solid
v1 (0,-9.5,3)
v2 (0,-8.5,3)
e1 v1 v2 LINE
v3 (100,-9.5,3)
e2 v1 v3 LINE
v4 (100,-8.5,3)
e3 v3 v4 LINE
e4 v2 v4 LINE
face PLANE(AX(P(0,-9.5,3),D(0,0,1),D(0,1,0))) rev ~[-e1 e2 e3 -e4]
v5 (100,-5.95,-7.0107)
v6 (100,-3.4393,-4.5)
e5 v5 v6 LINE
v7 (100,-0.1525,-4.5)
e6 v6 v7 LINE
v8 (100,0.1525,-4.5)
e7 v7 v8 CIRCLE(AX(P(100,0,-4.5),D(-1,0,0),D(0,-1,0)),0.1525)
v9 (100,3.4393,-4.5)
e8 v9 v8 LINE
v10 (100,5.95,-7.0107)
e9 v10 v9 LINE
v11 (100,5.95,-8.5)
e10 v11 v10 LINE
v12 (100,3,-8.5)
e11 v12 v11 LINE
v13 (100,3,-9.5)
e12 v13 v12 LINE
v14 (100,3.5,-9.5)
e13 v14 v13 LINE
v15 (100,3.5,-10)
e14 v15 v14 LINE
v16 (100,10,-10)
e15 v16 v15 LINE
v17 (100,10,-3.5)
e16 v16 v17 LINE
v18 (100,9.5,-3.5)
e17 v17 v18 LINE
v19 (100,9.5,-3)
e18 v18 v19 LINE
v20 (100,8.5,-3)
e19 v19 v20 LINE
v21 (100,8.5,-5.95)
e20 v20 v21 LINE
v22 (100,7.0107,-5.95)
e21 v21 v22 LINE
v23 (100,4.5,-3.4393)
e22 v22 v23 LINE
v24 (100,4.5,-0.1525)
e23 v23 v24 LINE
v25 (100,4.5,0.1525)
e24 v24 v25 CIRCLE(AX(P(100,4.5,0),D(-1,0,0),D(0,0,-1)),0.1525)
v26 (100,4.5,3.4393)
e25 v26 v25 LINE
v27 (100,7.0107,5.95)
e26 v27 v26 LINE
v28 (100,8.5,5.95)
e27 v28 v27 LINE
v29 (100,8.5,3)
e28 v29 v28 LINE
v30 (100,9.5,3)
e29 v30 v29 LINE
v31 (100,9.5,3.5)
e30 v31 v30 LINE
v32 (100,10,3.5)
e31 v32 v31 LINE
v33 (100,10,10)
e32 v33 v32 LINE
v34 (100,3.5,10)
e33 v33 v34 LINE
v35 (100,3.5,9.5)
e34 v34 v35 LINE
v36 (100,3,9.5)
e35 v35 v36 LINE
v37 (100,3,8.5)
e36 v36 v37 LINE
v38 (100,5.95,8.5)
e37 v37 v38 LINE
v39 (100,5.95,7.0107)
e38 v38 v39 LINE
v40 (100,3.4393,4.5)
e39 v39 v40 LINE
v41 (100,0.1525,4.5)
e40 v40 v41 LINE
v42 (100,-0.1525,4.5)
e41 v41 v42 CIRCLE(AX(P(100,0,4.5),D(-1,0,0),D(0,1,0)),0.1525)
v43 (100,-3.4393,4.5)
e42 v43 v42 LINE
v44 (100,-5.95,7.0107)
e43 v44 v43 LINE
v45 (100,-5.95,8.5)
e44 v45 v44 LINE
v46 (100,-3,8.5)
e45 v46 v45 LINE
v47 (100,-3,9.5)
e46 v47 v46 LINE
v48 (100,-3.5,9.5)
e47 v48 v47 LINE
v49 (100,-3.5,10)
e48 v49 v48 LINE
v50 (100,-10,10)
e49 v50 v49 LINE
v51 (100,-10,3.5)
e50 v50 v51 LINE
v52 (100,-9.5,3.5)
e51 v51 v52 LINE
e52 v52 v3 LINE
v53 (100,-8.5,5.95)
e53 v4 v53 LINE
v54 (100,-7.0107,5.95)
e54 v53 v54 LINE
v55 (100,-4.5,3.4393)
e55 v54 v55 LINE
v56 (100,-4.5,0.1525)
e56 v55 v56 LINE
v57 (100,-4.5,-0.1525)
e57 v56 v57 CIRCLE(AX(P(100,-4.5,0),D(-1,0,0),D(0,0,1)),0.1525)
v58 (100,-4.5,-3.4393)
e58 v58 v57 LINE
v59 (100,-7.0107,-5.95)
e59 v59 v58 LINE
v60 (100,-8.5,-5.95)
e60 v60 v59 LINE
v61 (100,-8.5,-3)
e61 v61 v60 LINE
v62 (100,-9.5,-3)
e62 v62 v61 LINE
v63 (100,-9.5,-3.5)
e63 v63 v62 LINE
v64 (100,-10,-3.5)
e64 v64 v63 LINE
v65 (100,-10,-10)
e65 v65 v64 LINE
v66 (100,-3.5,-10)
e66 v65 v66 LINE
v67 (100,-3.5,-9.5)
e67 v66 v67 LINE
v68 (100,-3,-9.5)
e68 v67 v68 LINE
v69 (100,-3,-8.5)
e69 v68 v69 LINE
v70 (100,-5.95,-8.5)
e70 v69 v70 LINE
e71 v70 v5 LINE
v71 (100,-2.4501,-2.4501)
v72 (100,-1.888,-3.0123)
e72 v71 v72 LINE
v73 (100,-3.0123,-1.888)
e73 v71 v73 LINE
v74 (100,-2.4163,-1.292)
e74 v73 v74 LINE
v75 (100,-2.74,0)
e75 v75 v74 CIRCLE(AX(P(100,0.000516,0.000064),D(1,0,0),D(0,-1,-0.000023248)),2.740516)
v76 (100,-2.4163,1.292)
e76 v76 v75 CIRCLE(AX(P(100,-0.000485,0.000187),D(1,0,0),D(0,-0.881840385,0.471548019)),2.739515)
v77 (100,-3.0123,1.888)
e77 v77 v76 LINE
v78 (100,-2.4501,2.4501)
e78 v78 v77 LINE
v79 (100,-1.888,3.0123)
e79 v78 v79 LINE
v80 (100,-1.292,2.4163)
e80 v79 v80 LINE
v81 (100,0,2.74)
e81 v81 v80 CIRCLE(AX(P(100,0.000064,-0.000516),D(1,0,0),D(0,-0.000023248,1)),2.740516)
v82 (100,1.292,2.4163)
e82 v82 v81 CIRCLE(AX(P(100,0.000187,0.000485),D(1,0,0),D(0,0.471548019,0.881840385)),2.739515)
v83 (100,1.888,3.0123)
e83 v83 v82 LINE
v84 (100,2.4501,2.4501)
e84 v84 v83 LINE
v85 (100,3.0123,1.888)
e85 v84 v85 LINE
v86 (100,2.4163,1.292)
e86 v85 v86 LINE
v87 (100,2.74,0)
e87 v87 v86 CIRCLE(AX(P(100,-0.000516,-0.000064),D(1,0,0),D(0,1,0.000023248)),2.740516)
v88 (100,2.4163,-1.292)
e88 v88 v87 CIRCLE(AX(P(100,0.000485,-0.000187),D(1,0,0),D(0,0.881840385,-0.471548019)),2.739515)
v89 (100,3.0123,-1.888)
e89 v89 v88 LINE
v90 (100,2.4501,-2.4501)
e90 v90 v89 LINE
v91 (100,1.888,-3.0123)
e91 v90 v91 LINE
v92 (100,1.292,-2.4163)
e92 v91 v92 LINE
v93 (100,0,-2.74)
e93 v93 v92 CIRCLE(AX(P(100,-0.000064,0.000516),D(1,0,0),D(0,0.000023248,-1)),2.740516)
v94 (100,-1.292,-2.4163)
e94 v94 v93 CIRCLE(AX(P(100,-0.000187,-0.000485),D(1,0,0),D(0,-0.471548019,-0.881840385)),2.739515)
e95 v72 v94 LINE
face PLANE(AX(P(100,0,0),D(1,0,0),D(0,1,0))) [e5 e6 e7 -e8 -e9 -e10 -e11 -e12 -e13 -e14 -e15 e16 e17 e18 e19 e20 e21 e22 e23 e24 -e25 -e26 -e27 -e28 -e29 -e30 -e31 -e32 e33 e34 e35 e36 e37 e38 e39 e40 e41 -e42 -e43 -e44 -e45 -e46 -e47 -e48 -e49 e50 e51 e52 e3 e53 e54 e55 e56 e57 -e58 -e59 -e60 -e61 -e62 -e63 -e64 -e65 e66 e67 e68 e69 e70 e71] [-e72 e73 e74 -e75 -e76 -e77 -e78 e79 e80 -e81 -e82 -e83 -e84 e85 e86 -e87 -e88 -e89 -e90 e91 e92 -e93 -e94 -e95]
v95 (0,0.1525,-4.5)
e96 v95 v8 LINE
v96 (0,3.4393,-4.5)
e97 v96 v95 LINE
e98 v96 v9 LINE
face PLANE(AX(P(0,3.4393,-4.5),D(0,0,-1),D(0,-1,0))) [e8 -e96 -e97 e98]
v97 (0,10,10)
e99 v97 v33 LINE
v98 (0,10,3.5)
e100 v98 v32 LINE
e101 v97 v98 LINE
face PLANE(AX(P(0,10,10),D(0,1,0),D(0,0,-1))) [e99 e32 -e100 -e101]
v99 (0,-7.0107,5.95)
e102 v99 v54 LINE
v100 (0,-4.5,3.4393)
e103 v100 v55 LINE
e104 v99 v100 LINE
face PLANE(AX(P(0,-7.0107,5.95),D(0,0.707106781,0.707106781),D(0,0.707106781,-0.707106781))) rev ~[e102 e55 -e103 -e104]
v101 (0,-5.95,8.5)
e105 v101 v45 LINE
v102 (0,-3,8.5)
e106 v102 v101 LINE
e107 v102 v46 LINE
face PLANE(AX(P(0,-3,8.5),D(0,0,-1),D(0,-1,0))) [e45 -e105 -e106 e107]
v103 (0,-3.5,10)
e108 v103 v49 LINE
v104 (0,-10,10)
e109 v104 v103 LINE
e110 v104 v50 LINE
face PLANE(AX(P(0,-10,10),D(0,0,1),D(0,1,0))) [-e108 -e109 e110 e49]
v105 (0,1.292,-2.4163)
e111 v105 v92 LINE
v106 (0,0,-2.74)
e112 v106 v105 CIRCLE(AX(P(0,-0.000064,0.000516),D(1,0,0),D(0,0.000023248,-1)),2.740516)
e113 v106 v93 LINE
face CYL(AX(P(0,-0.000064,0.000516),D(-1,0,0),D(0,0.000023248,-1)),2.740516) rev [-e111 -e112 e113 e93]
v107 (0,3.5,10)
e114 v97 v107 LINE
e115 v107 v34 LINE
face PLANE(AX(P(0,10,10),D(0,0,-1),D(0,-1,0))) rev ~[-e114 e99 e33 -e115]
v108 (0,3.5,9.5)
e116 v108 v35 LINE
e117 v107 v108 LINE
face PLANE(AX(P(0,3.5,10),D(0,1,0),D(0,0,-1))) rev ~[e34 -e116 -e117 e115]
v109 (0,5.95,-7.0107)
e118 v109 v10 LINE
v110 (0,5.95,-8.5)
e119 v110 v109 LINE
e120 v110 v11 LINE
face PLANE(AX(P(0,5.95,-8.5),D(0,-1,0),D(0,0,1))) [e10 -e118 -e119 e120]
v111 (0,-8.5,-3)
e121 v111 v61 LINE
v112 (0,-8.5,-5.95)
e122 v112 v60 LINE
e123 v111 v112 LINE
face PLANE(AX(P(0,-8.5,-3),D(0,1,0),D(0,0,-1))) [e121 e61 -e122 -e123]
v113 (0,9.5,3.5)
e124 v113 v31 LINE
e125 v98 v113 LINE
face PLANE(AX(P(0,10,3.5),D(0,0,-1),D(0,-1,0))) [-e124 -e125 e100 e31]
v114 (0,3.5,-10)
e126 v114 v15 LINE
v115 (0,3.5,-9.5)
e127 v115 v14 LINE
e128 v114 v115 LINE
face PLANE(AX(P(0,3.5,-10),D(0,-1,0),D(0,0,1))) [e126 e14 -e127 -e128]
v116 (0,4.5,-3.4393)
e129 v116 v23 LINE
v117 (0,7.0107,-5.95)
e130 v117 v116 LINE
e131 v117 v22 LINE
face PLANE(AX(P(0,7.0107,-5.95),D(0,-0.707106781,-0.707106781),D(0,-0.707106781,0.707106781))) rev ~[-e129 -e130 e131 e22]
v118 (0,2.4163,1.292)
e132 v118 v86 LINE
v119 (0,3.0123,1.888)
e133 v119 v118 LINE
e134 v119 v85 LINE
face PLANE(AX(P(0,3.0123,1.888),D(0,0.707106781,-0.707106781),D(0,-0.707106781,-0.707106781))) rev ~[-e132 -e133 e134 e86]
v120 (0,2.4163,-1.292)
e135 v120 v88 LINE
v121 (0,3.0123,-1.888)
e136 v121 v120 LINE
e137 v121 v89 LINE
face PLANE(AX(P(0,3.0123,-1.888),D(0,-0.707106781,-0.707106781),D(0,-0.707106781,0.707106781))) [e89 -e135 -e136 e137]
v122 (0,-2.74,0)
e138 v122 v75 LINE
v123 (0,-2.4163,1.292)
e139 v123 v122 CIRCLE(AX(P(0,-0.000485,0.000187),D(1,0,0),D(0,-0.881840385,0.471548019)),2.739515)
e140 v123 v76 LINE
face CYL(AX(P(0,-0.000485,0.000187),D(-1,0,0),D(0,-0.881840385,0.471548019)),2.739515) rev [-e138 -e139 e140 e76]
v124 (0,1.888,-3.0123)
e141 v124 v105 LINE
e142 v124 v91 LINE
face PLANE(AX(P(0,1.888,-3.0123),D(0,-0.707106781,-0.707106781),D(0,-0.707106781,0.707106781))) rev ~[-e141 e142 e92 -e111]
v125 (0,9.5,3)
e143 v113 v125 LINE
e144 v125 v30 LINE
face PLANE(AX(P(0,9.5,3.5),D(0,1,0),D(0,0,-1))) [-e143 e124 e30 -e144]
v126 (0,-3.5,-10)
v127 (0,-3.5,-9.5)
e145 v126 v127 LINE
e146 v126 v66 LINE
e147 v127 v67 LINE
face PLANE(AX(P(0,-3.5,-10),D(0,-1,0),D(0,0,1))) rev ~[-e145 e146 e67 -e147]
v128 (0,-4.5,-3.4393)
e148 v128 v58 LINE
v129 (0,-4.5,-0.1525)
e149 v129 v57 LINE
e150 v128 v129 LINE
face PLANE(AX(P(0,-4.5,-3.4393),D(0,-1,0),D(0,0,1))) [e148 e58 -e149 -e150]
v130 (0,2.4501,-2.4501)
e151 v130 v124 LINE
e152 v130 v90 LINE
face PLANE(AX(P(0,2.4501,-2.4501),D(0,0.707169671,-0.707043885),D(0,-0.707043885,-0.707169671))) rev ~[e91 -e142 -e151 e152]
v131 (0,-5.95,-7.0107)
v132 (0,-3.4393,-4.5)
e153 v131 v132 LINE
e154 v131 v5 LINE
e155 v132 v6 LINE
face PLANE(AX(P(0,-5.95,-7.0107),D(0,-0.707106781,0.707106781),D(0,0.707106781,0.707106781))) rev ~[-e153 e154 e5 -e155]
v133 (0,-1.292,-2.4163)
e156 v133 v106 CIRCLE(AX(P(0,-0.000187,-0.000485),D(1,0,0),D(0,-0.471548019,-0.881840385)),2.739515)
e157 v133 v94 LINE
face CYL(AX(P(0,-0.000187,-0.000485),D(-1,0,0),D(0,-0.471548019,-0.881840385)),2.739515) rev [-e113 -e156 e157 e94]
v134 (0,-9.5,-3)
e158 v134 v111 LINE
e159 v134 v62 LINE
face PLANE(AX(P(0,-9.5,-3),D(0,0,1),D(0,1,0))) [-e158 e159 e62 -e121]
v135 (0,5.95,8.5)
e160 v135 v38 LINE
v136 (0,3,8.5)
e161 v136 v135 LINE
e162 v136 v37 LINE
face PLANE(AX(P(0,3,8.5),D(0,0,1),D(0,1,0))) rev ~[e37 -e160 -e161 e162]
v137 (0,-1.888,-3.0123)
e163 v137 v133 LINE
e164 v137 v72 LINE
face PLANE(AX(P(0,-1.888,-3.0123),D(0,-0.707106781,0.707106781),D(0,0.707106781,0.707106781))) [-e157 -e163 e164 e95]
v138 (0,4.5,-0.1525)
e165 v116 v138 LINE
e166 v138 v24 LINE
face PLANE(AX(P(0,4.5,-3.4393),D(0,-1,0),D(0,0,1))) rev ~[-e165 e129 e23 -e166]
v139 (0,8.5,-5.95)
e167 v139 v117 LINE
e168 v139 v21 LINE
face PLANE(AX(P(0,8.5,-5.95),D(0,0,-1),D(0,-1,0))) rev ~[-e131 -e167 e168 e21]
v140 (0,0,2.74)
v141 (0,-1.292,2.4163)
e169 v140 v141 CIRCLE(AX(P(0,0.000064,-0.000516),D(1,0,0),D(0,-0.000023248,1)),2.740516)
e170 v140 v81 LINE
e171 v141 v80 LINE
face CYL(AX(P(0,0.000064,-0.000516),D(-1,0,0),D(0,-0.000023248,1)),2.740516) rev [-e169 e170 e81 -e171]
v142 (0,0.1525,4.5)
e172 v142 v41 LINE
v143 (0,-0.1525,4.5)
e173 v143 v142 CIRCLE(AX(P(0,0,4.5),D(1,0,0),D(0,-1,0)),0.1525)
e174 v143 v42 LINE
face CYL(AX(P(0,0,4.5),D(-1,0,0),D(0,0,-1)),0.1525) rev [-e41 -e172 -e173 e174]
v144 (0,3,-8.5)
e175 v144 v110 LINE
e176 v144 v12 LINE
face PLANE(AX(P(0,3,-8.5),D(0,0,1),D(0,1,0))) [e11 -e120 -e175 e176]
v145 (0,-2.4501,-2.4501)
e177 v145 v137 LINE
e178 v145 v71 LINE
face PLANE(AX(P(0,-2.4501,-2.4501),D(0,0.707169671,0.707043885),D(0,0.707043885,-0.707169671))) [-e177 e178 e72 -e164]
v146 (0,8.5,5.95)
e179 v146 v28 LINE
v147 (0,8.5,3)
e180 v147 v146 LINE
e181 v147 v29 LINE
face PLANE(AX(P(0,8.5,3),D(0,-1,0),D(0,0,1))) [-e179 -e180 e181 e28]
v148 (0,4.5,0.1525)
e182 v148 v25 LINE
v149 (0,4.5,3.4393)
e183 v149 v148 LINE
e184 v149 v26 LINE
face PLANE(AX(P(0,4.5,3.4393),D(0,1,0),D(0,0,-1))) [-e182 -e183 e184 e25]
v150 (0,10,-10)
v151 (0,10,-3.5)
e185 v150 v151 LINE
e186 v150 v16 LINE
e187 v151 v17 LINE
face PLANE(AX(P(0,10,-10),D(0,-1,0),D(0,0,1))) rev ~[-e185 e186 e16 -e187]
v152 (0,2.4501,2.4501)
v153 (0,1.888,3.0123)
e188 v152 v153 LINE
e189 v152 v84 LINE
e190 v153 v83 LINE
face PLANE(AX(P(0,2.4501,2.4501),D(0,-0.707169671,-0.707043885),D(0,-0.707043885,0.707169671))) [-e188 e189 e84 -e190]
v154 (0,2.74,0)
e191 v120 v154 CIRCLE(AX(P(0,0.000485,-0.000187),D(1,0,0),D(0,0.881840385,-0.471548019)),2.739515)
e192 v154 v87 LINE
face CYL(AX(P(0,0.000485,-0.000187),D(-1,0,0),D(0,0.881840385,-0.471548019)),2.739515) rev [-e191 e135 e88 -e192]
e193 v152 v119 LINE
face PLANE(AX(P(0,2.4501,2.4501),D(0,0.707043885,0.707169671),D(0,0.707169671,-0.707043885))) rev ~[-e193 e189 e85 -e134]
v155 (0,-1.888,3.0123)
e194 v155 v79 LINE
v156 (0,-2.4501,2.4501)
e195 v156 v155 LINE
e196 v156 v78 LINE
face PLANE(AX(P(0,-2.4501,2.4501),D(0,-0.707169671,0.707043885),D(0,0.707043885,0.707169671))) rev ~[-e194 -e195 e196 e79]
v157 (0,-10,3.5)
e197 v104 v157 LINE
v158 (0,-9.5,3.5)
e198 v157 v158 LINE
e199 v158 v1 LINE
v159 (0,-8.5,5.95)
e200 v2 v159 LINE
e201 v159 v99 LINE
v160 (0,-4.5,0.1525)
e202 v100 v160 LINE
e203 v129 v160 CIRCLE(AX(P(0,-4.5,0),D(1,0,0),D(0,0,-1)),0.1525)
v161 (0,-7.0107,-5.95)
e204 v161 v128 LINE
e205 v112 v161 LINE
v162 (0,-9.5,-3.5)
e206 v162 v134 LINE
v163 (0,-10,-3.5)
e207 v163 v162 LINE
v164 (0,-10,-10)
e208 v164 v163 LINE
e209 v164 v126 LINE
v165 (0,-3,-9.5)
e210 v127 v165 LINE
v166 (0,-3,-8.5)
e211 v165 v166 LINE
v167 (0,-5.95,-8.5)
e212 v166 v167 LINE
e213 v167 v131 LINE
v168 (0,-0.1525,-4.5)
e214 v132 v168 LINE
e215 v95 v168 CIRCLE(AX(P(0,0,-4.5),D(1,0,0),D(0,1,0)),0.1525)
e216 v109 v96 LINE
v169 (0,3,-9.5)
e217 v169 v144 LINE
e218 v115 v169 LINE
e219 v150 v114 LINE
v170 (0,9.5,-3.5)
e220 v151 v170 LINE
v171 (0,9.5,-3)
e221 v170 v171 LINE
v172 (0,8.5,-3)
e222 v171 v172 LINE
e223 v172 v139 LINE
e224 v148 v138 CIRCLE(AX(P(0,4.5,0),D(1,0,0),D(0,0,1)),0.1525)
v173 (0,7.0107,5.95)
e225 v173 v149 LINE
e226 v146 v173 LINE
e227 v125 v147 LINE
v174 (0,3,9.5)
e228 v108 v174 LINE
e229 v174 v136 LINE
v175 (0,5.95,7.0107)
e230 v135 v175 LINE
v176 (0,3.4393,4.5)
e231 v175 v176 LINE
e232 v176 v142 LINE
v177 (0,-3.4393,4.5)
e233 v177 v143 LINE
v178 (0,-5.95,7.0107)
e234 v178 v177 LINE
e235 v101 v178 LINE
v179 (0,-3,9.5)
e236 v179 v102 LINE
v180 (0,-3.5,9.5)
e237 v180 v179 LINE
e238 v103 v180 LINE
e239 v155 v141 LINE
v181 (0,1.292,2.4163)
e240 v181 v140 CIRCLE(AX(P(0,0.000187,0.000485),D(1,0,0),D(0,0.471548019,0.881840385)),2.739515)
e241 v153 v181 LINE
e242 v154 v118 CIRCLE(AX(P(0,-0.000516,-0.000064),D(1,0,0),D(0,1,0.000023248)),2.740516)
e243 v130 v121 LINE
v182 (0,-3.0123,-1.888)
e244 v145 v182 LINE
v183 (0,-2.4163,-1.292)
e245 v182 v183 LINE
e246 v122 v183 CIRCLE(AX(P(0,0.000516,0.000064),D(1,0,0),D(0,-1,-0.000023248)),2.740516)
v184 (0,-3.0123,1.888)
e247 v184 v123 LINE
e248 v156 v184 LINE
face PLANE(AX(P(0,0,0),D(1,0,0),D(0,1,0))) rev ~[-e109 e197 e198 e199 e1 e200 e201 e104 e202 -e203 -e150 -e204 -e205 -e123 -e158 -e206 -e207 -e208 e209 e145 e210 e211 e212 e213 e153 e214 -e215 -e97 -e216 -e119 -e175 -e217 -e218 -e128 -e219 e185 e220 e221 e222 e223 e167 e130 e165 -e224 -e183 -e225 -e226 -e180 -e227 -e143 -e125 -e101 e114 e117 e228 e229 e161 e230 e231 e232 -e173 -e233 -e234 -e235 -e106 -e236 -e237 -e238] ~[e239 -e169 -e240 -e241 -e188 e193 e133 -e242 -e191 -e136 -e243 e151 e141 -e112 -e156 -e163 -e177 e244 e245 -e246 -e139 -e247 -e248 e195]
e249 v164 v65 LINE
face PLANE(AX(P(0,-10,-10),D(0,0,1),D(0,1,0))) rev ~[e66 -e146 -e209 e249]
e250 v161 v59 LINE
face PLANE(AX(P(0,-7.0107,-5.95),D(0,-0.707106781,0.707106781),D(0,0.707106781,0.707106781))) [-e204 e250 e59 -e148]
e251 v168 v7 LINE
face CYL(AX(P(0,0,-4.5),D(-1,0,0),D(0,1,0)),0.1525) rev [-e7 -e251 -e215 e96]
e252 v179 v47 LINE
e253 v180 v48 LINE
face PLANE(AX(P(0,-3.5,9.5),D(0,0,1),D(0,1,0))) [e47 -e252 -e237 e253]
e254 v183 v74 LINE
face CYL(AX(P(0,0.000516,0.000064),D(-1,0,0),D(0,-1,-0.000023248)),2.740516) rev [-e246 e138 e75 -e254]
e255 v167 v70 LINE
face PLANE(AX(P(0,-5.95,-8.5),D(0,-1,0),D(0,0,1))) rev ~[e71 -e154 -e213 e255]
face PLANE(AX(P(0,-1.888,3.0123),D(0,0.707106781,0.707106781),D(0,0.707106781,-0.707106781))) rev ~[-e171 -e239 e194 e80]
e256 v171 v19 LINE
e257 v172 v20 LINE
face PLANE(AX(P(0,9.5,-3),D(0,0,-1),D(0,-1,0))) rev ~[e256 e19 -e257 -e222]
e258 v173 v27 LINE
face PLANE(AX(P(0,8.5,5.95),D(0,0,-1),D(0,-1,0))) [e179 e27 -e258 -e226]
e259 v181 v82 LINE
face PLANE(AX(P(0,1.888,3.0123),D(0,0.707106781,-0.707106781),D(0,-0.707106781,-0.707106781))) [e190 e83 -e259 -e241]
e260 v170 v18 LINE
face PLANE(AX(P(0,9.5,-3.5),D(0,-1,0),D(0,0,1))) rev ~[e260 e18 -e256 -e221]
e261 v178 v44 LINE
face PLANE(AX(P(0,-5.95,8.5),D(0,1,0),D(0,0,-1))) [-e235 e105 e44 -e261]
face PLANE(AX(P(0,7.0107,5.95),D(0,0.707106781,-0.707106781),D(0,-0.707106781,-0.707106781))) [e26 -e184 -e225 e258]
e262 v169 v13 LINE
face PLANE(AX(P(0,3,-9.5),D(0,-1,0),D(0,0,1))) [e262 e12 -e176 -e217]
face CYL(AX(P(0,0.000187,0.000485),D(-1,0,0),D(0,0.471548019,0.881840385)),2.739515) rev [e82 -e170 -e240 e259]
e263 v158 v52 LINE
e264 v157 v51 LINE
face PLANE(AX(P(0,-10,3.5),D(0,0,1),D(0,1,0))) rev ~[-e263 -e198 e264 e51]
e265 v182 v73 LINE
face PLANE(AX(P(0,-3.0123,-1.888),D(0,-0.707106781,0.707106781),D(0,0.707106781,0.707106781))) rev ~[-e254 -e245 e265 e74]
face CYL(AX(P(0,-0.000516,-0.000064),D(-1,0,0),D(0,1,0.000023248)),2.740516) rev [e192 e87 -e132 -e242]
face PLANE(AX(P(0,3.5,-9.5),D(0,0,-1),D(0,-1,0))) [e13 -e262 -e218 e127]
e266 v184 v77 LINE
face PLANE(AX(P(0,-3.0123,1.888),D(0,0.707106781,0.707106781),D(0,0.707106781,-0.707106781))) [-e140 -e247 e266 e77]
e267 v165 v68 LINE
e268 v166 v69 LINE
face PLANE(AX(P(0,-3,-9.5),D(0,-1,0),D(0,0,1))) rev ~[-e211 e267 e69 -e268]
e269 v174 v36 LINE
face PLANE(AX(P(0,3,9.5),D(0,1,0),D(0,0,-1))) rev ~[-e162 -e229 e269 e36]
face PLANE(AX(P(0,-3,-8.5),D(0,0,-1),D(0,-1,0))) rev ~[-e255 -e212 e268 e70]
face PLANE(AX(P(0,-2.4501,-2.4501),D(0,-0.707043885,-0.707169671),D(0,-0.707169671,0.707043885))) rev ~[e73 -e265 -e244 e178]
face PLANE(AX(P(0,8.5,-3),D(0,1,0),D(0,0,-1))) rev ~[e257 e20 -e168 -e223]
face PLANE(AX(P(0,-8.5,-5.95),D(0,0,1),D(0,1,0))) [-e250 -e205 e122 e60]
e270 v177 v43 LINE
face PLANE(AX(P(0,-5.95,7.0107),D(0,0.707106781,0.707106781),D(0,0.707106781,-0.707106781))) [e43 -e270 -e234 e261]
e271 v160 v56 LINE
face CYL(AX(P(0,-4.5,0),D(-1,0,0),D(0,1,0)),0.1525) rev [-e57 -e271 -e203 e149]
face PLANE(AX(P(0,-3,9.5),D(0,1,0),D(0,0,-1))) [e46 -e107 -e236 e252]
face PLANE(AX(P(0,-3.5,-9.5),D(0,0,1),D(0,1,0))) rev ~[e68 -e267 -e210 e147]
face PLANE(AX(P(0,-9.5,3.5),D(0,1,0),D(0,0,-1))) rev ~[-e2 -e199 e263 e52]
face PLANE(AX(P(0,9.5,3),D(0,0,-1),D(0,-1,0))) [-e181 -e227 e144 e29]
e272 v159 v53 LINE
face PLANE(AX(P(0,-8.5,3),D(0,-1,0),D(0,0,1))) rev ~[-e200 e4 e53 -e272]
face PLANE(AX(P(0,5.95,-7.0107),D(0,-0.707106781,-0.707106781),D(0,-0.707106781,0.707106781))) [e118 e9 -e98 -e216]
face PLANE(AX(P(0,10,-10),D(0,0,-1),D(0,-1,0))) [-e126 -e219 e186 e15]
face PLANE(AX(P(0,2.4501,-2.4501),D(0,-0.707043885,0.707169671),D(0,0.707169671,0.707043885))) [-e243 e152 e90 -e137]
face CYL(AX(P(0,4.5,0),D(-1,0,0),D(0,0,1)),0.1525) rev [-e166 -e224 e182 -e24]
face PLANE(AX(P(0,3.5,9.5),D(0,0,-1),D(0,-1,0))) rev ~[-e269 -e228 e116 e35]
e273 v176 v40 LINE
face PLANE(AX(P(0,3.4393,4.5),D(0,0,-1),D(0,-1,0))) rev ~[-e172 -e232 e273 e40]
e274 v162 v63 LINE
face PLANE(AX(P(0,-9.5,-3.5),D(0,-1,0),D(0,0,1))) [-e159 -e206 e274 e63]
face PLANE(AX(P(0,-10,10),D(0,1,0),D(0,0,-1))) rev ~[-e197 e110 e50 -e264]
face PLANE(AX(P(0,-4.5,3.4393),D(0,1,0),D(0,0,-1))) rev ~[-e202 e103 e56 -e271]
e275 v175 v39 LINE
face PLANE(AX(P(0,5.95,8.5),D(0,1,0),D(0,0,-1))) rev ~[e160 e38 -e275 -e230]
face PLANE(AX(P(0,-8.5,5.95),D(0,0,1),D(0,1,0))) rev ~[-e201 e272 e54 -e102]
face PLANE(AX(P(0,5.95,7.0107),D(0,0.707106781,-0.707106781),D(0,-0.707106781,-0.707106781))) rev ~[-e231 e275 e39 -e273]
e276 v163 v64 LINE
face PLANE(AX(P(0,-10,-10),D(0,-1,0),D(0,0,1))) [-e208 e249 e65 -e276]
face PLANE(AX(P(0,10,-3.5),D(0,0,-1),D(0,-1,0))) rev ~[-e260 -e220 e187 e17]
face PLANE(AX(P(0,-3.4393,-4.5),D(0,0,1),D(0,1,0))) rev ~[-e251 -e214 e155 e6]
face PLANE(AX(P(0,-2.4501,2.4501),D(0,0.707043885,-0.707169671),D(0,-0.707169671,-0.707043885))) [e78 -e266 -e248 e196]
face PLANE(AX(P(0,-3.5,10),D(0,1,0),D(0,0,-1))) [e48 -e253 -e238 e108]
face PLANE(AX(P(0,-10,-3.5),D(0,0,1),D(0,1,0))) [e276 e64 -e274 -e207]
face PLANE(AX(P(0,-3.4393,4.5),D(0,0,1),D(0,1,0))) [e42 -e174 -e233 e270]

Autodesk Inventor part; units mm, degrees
ref_plane "YZ Plane" through (0, 0, 0) normal (1, 0, 0) x (0, 1, 0)
ref_plane "XZ Plane" through (0, 0, 0) normal (0, 1, 0) x (-1, 0, 0)
ref_plane "XY Plane" through (0, 0, 0) normal (0, 0, 1) x (1, 0, 0)
sketch "Sketch1" plane through (0, 0, 0) normal (1, 0, 0) x (0, 1, 0)
  line L0 (-10, -10) -> (10, 10) construction
  line L1 (10, 10) -> (10, 3.5)
  line L2 (10, 3.5) -> (9.5, 3.5)
  line L3 (9.5, 3.5) -> (9.5, 3)
  line L4 (9.5, 3) -> (8.5, 3)
  line L5 (8.5, 3) -> (8.5, 5.95)
  line L6 (8.5, 5.95) -> (7.0107, 5.95)
  line L7 (7.0107, 5.95) -> (4.5, 3.4393)
  line L8 (4.5, 3.4393) -> (4.5, 0.1525)
  line L9 (2.4501, 2.4501) -> (3.0123, 1.888)
  line L10 (3.0123, 1.888) -> (2.4163, 1.292)
  arc A0 (2.74, 0) -> (2.4163, 1.292) centre (0, 0) ccw
  arc A1 (4.5, 0.1525) -> (4.3475, 0) centre (4.5, 0) ccw
  line L11 (10, 10) -> (2.4501, 2.4501)
  line L12 (4.3475, 0) -> (2.74, 0)
  line L13 (0, 0) -> (2.74, 0) construction
  line L14 (10, 10) -> (3.5, 10)
  line L15 (3.5, 10) -> (3.5, 9.5)
  line L16 (3.5, 9.5) -> (3, 9.5)
  line L17 (3, 9.5) -> (3, 8.5)
  line L18 (3, 8.5) -> (5.95, 8.5)
  line L19 (5.95, 8.5) -> (5.95, 7.0107)
  line L20 (5.95, 7.0107) -> (3.4393, 4.5)
  line L21 (3.4393, 4.5) -> (0.1525, 4.5)
  line L22 (2.4501, 2.4501) -> (1.888, 3.0123)
  line L23 (1.888, 3.0123) -> (1.292, 2.4163)
  arc A2 (1.292, 2.4163) -> (0, 2.74) centre (0, 0) ccw
  arc A3 (0, 4.3475) -> (0.1525, 4.5) centre (0, 4.5) ccw
  line L24 (0, 4.3475) -> (0, 2.74)
  line L25 (0, 0) -> (0, 2.74) construction
  line L26 (-8.5, 5.95) -> (-7.0107, 5.95)
  line L27 (-10, 3.5) -> (-9.5, 3.5)
  line L28 (-8.5, 3) -> (-8.5, 5.95)
  line L29 (-9.5, 3.5) -> (-9.5, 3)
  line L30 (-9.5, 3) -> (-8.5, 3)
  line L31 (-5.95, 8.5) -> (-5.95, 7.0107)
  line L32 (-7.0107, 5.95) -> (-4.5, 3.4393)
  line L33 (-5.95, 7.0107) -> (-3.4393, 4.5)
  line L34 (-10, 10) -> (-10, 3.5)
  line L35 (-10, 10) -> (-3.5, 10)
  line L36 (-10, 10) -> (-2.4501, 2.4501)
  line L37 (-3, 8.5) -> (-5.95, 8.5)
  line L38 (-3, 9.5) -> (-3, 8.5)
  line L39 (-3.5, 10) -> (-3.5, 9.5)
  line L40 (-3.5, 9.5) -> (-3, 9.5)
  line L41 (-3.4393, 4.5) -> (-0.1525, 4.5)
  line L42 (-2.4501, 2.4501) -> (-1.888, 3.0123)
  line L43 (-1.888, 3.0123) -> (-1.292, 2.4163)
  arc A4 (0, 2.74) -> (-1.292, 2.4163) centre (0, 0) ccw
  arc A5 (-0.1525, 4.5) -> (0, 4.3475) centre (0, 4.5) ccw
  line L44 (-2.4501, 2.4501) -> (-3.0123, 1.888)
  line L45 (-4.5, 3.4393) -> (-4.5, 0.1525)
  arc A6 (-4.3475, 0) -> (-4.5, 0.1525) centre (-4.5, 0) ccw
  line L46 (0, 4.3475) -> (0, 2.74)
  line L47 (-4.3475, 0) -> (-2.74, 0)
  arc A7 (-2.4163, 1.292) -> (-2.74, 0) centre (0, 0) ccw
  line L48 (0, 0) -> (0, 2.74) construction
  line L49 (-3.0123, 1.888) -> (-2.4163, 1.292)
  line L50 (-5.95, -8.5) -> (-5.95, -7.0107)
  line L51 (-3.5, -10) -> (-3.5, -9.5)
  line L52 (-3, -8.5) -> (-5.95, -8.5)
  line L53 (-3.5, -9.5) -> (-3, -9.5)
  line L54 (-3, -9.5) -> (-3, -8.5)
  line L55 (-8.5, -5.95) -> (-7.0107, -5.95)
  line L56 (-5.95, -7.0107) -> (-3.4393, -4.5)
  line L57 (-7.0107, -5.95) -> (-4.5, -3.4393)
  line L58 (-10, -10) -> (-3.5, -10)
  line L59 (-10, -10) -> (-10, -3.5)
  line L60 (-10, -10) -> (-2.4501, -2.4501)
  line L61 (-8.5, -3) -> (-8.5, -5.95)
  line L62 (-9.5, -3) -> (-8.5, -3)
  line L63 (-10, -3.5) -> (-9.5, -3.5)
  line L64 (-9.5, -3.5) -> (-9.5, -3)
  line L65 (-4.5, -3.4393) -> (-4.5, -0.1525)
  line L66 (-2.4501, -2.4501) -> (-3.0123, -1.888)
  line L67 (-3.0123, -1.888) -> (-2.4163, -1.292)
  arc A8 (-2.74, 0) -> (-2.4163, -1.292) centre (0, 0) ccw
  arc A9 (-4.5, -0.1525) -> (-4.3475, 0) centre (-4.5, 0) ccw
  line L68 (-2.4501, -2.4501) -> (-1.888, -3.0123)
  line L69 (-3.4393, -4.5) -> (-0.1525, -4.5)
  arc A10 (0, -4.3475) -> (-0.1525, -4.5) centre (0, -4.5) ccw
  line L70 (-4.3475, 0) -> (-2.74, 0)
  line L71 (0, -4.3475) -> (0, -2.74)
  arc A11 (-1.292, -2.4163) -> (0, -2.74) centre (0, 0) ccw
  line L72 (0, 0) -> (-2.74, 0) construction
  line L73 (-1.888, -3.0123) -> (-1.292, -2.4163)
  line L74 (8.5, -5.95) -> (7.0107, -5.95)
  line L75 (10, -3.5) -> (9.5, -3.5)
  line L76 (8.5, -3) -> (8.5, -5.95)
  line L77 (9.5, -3.5) -> (9.5, -3)
  line L78 (9.5, -3) -> (8.5, -3)
  line L79 (5.95, -8.5) -> (5.95, -7.0107)
  line L80 (7.0107, -5.95) -> (4.5, -3.4393)
  line L81 (5.95, -7.0107) -> (3.4393, -4.5)
  line L82 (10, -10) -> (10, -3.5)
  line L83 (10, -10) -> (3.5, -10)
  line L84 (10, -10) -> (2.4501, -2.4501)
  line L85 (3, -8.5) -> (5.95, -8.5)
  line L86 (3, -9.5) -> (3, -8.5)
  line L87 (3.5, -10) -> (3.5, -9.5)
  line L88 (3.5, -9.5) -> (3, -9.5)
  line L89 (3.4393, -4.5) -> (0.1525, -4.5)
  line L90 (2.4501, -2.4501) -> (1.888, -3.0123)
  line L91 (1.888, -3.0123) -> (1.292, -2.4163)
  arc A12 (0, -2.74) -> (1.292, -2.4163) centre (0, 0) ccw
  arc A13 (0.1525, -4.5) -> (0, -4.3475) centre (0, -4.5) ccw
  line L92 (2.4501, -2.4501) -> (3.0123, -1.888)
  line L93 (4.5, -3.4393) -> (4.5, -0.1525)
  arc A14 (4.3475, 0) -> (4.5, -0.1525) centre (4.5, 0) ccw
  line L94 (0, -4.3475) -> (0, -2.74)
  line L95 (4.3475, 0) -> (2.74, 0)
  arc A15 (2.4163, -1.292) -> (2.74, 0) centre (0, 0) ccw
  line L96 (0, 0) -> (0, -2.74) construction
  line L97 (3.0123, -1.888) -> (2.4163, -1.292)
  point P0 (9, 3)
  point P1 (3, 9)
  point P2 (-9, 3)
  point P3 (-3, 9)
  point P4 (-3, -9)
  point P5 (-9, -3)
  point P6 (9, -3)
  point P7 (3, -9)
  dimension "d2" = 6.5
  dimension "d3" = 0.5
  dimension "d4" = 4
  dimension "d5" = 3.465
  dimension "d6" = 5.48
  dimension "d7" = 0.795
  dimension "d8" = 0.305
  dimension "d9" = 2.95
  dimension "d11" = 0.75
  dimension "d14" = 45
  dimension "d15" = 10
  dimension "d16" = 1
  dimension "d17" = 3
  dimension "d18" = 45
  dimension "d21" = 360
extrude "Extrusion1" add sketch "Sketch1" along normal blind 100 contours L1 L2 L3 L4 L5 L6 L7 L8 A1 L12 A0 L10 L9 L11 | L11 L22 L23 A2 L24 A3 L21 L20 L19 L18 L17 L16 L15 L14 | L12 A14 L93 L80 L74 L76 L78 L77 L75 L82 L84 L92 L97 A15 | A4 L43 L42 L36 L35 L39 L40 L38 L37 L31 L33 L41 A5 L24 | L84 L83 L87 L88 L86 L85 L79 L81 L89 A13 L71 A12 L91 L90 | L44 L49 A7 L47 A6 L45 L32 L26 L28 L30 L29 L27 L34 L36 | L71 A10 L69 L56 L50 L52 L54 L53 L51 L58 L60 L68 L73 A11 | A8 L67 L66 L60 L59 L63 L64 L62 L61 L55 L57 L65 A9 L47
properties part number "20mm Extrusion 500mm" material "Aluminum 6061"
